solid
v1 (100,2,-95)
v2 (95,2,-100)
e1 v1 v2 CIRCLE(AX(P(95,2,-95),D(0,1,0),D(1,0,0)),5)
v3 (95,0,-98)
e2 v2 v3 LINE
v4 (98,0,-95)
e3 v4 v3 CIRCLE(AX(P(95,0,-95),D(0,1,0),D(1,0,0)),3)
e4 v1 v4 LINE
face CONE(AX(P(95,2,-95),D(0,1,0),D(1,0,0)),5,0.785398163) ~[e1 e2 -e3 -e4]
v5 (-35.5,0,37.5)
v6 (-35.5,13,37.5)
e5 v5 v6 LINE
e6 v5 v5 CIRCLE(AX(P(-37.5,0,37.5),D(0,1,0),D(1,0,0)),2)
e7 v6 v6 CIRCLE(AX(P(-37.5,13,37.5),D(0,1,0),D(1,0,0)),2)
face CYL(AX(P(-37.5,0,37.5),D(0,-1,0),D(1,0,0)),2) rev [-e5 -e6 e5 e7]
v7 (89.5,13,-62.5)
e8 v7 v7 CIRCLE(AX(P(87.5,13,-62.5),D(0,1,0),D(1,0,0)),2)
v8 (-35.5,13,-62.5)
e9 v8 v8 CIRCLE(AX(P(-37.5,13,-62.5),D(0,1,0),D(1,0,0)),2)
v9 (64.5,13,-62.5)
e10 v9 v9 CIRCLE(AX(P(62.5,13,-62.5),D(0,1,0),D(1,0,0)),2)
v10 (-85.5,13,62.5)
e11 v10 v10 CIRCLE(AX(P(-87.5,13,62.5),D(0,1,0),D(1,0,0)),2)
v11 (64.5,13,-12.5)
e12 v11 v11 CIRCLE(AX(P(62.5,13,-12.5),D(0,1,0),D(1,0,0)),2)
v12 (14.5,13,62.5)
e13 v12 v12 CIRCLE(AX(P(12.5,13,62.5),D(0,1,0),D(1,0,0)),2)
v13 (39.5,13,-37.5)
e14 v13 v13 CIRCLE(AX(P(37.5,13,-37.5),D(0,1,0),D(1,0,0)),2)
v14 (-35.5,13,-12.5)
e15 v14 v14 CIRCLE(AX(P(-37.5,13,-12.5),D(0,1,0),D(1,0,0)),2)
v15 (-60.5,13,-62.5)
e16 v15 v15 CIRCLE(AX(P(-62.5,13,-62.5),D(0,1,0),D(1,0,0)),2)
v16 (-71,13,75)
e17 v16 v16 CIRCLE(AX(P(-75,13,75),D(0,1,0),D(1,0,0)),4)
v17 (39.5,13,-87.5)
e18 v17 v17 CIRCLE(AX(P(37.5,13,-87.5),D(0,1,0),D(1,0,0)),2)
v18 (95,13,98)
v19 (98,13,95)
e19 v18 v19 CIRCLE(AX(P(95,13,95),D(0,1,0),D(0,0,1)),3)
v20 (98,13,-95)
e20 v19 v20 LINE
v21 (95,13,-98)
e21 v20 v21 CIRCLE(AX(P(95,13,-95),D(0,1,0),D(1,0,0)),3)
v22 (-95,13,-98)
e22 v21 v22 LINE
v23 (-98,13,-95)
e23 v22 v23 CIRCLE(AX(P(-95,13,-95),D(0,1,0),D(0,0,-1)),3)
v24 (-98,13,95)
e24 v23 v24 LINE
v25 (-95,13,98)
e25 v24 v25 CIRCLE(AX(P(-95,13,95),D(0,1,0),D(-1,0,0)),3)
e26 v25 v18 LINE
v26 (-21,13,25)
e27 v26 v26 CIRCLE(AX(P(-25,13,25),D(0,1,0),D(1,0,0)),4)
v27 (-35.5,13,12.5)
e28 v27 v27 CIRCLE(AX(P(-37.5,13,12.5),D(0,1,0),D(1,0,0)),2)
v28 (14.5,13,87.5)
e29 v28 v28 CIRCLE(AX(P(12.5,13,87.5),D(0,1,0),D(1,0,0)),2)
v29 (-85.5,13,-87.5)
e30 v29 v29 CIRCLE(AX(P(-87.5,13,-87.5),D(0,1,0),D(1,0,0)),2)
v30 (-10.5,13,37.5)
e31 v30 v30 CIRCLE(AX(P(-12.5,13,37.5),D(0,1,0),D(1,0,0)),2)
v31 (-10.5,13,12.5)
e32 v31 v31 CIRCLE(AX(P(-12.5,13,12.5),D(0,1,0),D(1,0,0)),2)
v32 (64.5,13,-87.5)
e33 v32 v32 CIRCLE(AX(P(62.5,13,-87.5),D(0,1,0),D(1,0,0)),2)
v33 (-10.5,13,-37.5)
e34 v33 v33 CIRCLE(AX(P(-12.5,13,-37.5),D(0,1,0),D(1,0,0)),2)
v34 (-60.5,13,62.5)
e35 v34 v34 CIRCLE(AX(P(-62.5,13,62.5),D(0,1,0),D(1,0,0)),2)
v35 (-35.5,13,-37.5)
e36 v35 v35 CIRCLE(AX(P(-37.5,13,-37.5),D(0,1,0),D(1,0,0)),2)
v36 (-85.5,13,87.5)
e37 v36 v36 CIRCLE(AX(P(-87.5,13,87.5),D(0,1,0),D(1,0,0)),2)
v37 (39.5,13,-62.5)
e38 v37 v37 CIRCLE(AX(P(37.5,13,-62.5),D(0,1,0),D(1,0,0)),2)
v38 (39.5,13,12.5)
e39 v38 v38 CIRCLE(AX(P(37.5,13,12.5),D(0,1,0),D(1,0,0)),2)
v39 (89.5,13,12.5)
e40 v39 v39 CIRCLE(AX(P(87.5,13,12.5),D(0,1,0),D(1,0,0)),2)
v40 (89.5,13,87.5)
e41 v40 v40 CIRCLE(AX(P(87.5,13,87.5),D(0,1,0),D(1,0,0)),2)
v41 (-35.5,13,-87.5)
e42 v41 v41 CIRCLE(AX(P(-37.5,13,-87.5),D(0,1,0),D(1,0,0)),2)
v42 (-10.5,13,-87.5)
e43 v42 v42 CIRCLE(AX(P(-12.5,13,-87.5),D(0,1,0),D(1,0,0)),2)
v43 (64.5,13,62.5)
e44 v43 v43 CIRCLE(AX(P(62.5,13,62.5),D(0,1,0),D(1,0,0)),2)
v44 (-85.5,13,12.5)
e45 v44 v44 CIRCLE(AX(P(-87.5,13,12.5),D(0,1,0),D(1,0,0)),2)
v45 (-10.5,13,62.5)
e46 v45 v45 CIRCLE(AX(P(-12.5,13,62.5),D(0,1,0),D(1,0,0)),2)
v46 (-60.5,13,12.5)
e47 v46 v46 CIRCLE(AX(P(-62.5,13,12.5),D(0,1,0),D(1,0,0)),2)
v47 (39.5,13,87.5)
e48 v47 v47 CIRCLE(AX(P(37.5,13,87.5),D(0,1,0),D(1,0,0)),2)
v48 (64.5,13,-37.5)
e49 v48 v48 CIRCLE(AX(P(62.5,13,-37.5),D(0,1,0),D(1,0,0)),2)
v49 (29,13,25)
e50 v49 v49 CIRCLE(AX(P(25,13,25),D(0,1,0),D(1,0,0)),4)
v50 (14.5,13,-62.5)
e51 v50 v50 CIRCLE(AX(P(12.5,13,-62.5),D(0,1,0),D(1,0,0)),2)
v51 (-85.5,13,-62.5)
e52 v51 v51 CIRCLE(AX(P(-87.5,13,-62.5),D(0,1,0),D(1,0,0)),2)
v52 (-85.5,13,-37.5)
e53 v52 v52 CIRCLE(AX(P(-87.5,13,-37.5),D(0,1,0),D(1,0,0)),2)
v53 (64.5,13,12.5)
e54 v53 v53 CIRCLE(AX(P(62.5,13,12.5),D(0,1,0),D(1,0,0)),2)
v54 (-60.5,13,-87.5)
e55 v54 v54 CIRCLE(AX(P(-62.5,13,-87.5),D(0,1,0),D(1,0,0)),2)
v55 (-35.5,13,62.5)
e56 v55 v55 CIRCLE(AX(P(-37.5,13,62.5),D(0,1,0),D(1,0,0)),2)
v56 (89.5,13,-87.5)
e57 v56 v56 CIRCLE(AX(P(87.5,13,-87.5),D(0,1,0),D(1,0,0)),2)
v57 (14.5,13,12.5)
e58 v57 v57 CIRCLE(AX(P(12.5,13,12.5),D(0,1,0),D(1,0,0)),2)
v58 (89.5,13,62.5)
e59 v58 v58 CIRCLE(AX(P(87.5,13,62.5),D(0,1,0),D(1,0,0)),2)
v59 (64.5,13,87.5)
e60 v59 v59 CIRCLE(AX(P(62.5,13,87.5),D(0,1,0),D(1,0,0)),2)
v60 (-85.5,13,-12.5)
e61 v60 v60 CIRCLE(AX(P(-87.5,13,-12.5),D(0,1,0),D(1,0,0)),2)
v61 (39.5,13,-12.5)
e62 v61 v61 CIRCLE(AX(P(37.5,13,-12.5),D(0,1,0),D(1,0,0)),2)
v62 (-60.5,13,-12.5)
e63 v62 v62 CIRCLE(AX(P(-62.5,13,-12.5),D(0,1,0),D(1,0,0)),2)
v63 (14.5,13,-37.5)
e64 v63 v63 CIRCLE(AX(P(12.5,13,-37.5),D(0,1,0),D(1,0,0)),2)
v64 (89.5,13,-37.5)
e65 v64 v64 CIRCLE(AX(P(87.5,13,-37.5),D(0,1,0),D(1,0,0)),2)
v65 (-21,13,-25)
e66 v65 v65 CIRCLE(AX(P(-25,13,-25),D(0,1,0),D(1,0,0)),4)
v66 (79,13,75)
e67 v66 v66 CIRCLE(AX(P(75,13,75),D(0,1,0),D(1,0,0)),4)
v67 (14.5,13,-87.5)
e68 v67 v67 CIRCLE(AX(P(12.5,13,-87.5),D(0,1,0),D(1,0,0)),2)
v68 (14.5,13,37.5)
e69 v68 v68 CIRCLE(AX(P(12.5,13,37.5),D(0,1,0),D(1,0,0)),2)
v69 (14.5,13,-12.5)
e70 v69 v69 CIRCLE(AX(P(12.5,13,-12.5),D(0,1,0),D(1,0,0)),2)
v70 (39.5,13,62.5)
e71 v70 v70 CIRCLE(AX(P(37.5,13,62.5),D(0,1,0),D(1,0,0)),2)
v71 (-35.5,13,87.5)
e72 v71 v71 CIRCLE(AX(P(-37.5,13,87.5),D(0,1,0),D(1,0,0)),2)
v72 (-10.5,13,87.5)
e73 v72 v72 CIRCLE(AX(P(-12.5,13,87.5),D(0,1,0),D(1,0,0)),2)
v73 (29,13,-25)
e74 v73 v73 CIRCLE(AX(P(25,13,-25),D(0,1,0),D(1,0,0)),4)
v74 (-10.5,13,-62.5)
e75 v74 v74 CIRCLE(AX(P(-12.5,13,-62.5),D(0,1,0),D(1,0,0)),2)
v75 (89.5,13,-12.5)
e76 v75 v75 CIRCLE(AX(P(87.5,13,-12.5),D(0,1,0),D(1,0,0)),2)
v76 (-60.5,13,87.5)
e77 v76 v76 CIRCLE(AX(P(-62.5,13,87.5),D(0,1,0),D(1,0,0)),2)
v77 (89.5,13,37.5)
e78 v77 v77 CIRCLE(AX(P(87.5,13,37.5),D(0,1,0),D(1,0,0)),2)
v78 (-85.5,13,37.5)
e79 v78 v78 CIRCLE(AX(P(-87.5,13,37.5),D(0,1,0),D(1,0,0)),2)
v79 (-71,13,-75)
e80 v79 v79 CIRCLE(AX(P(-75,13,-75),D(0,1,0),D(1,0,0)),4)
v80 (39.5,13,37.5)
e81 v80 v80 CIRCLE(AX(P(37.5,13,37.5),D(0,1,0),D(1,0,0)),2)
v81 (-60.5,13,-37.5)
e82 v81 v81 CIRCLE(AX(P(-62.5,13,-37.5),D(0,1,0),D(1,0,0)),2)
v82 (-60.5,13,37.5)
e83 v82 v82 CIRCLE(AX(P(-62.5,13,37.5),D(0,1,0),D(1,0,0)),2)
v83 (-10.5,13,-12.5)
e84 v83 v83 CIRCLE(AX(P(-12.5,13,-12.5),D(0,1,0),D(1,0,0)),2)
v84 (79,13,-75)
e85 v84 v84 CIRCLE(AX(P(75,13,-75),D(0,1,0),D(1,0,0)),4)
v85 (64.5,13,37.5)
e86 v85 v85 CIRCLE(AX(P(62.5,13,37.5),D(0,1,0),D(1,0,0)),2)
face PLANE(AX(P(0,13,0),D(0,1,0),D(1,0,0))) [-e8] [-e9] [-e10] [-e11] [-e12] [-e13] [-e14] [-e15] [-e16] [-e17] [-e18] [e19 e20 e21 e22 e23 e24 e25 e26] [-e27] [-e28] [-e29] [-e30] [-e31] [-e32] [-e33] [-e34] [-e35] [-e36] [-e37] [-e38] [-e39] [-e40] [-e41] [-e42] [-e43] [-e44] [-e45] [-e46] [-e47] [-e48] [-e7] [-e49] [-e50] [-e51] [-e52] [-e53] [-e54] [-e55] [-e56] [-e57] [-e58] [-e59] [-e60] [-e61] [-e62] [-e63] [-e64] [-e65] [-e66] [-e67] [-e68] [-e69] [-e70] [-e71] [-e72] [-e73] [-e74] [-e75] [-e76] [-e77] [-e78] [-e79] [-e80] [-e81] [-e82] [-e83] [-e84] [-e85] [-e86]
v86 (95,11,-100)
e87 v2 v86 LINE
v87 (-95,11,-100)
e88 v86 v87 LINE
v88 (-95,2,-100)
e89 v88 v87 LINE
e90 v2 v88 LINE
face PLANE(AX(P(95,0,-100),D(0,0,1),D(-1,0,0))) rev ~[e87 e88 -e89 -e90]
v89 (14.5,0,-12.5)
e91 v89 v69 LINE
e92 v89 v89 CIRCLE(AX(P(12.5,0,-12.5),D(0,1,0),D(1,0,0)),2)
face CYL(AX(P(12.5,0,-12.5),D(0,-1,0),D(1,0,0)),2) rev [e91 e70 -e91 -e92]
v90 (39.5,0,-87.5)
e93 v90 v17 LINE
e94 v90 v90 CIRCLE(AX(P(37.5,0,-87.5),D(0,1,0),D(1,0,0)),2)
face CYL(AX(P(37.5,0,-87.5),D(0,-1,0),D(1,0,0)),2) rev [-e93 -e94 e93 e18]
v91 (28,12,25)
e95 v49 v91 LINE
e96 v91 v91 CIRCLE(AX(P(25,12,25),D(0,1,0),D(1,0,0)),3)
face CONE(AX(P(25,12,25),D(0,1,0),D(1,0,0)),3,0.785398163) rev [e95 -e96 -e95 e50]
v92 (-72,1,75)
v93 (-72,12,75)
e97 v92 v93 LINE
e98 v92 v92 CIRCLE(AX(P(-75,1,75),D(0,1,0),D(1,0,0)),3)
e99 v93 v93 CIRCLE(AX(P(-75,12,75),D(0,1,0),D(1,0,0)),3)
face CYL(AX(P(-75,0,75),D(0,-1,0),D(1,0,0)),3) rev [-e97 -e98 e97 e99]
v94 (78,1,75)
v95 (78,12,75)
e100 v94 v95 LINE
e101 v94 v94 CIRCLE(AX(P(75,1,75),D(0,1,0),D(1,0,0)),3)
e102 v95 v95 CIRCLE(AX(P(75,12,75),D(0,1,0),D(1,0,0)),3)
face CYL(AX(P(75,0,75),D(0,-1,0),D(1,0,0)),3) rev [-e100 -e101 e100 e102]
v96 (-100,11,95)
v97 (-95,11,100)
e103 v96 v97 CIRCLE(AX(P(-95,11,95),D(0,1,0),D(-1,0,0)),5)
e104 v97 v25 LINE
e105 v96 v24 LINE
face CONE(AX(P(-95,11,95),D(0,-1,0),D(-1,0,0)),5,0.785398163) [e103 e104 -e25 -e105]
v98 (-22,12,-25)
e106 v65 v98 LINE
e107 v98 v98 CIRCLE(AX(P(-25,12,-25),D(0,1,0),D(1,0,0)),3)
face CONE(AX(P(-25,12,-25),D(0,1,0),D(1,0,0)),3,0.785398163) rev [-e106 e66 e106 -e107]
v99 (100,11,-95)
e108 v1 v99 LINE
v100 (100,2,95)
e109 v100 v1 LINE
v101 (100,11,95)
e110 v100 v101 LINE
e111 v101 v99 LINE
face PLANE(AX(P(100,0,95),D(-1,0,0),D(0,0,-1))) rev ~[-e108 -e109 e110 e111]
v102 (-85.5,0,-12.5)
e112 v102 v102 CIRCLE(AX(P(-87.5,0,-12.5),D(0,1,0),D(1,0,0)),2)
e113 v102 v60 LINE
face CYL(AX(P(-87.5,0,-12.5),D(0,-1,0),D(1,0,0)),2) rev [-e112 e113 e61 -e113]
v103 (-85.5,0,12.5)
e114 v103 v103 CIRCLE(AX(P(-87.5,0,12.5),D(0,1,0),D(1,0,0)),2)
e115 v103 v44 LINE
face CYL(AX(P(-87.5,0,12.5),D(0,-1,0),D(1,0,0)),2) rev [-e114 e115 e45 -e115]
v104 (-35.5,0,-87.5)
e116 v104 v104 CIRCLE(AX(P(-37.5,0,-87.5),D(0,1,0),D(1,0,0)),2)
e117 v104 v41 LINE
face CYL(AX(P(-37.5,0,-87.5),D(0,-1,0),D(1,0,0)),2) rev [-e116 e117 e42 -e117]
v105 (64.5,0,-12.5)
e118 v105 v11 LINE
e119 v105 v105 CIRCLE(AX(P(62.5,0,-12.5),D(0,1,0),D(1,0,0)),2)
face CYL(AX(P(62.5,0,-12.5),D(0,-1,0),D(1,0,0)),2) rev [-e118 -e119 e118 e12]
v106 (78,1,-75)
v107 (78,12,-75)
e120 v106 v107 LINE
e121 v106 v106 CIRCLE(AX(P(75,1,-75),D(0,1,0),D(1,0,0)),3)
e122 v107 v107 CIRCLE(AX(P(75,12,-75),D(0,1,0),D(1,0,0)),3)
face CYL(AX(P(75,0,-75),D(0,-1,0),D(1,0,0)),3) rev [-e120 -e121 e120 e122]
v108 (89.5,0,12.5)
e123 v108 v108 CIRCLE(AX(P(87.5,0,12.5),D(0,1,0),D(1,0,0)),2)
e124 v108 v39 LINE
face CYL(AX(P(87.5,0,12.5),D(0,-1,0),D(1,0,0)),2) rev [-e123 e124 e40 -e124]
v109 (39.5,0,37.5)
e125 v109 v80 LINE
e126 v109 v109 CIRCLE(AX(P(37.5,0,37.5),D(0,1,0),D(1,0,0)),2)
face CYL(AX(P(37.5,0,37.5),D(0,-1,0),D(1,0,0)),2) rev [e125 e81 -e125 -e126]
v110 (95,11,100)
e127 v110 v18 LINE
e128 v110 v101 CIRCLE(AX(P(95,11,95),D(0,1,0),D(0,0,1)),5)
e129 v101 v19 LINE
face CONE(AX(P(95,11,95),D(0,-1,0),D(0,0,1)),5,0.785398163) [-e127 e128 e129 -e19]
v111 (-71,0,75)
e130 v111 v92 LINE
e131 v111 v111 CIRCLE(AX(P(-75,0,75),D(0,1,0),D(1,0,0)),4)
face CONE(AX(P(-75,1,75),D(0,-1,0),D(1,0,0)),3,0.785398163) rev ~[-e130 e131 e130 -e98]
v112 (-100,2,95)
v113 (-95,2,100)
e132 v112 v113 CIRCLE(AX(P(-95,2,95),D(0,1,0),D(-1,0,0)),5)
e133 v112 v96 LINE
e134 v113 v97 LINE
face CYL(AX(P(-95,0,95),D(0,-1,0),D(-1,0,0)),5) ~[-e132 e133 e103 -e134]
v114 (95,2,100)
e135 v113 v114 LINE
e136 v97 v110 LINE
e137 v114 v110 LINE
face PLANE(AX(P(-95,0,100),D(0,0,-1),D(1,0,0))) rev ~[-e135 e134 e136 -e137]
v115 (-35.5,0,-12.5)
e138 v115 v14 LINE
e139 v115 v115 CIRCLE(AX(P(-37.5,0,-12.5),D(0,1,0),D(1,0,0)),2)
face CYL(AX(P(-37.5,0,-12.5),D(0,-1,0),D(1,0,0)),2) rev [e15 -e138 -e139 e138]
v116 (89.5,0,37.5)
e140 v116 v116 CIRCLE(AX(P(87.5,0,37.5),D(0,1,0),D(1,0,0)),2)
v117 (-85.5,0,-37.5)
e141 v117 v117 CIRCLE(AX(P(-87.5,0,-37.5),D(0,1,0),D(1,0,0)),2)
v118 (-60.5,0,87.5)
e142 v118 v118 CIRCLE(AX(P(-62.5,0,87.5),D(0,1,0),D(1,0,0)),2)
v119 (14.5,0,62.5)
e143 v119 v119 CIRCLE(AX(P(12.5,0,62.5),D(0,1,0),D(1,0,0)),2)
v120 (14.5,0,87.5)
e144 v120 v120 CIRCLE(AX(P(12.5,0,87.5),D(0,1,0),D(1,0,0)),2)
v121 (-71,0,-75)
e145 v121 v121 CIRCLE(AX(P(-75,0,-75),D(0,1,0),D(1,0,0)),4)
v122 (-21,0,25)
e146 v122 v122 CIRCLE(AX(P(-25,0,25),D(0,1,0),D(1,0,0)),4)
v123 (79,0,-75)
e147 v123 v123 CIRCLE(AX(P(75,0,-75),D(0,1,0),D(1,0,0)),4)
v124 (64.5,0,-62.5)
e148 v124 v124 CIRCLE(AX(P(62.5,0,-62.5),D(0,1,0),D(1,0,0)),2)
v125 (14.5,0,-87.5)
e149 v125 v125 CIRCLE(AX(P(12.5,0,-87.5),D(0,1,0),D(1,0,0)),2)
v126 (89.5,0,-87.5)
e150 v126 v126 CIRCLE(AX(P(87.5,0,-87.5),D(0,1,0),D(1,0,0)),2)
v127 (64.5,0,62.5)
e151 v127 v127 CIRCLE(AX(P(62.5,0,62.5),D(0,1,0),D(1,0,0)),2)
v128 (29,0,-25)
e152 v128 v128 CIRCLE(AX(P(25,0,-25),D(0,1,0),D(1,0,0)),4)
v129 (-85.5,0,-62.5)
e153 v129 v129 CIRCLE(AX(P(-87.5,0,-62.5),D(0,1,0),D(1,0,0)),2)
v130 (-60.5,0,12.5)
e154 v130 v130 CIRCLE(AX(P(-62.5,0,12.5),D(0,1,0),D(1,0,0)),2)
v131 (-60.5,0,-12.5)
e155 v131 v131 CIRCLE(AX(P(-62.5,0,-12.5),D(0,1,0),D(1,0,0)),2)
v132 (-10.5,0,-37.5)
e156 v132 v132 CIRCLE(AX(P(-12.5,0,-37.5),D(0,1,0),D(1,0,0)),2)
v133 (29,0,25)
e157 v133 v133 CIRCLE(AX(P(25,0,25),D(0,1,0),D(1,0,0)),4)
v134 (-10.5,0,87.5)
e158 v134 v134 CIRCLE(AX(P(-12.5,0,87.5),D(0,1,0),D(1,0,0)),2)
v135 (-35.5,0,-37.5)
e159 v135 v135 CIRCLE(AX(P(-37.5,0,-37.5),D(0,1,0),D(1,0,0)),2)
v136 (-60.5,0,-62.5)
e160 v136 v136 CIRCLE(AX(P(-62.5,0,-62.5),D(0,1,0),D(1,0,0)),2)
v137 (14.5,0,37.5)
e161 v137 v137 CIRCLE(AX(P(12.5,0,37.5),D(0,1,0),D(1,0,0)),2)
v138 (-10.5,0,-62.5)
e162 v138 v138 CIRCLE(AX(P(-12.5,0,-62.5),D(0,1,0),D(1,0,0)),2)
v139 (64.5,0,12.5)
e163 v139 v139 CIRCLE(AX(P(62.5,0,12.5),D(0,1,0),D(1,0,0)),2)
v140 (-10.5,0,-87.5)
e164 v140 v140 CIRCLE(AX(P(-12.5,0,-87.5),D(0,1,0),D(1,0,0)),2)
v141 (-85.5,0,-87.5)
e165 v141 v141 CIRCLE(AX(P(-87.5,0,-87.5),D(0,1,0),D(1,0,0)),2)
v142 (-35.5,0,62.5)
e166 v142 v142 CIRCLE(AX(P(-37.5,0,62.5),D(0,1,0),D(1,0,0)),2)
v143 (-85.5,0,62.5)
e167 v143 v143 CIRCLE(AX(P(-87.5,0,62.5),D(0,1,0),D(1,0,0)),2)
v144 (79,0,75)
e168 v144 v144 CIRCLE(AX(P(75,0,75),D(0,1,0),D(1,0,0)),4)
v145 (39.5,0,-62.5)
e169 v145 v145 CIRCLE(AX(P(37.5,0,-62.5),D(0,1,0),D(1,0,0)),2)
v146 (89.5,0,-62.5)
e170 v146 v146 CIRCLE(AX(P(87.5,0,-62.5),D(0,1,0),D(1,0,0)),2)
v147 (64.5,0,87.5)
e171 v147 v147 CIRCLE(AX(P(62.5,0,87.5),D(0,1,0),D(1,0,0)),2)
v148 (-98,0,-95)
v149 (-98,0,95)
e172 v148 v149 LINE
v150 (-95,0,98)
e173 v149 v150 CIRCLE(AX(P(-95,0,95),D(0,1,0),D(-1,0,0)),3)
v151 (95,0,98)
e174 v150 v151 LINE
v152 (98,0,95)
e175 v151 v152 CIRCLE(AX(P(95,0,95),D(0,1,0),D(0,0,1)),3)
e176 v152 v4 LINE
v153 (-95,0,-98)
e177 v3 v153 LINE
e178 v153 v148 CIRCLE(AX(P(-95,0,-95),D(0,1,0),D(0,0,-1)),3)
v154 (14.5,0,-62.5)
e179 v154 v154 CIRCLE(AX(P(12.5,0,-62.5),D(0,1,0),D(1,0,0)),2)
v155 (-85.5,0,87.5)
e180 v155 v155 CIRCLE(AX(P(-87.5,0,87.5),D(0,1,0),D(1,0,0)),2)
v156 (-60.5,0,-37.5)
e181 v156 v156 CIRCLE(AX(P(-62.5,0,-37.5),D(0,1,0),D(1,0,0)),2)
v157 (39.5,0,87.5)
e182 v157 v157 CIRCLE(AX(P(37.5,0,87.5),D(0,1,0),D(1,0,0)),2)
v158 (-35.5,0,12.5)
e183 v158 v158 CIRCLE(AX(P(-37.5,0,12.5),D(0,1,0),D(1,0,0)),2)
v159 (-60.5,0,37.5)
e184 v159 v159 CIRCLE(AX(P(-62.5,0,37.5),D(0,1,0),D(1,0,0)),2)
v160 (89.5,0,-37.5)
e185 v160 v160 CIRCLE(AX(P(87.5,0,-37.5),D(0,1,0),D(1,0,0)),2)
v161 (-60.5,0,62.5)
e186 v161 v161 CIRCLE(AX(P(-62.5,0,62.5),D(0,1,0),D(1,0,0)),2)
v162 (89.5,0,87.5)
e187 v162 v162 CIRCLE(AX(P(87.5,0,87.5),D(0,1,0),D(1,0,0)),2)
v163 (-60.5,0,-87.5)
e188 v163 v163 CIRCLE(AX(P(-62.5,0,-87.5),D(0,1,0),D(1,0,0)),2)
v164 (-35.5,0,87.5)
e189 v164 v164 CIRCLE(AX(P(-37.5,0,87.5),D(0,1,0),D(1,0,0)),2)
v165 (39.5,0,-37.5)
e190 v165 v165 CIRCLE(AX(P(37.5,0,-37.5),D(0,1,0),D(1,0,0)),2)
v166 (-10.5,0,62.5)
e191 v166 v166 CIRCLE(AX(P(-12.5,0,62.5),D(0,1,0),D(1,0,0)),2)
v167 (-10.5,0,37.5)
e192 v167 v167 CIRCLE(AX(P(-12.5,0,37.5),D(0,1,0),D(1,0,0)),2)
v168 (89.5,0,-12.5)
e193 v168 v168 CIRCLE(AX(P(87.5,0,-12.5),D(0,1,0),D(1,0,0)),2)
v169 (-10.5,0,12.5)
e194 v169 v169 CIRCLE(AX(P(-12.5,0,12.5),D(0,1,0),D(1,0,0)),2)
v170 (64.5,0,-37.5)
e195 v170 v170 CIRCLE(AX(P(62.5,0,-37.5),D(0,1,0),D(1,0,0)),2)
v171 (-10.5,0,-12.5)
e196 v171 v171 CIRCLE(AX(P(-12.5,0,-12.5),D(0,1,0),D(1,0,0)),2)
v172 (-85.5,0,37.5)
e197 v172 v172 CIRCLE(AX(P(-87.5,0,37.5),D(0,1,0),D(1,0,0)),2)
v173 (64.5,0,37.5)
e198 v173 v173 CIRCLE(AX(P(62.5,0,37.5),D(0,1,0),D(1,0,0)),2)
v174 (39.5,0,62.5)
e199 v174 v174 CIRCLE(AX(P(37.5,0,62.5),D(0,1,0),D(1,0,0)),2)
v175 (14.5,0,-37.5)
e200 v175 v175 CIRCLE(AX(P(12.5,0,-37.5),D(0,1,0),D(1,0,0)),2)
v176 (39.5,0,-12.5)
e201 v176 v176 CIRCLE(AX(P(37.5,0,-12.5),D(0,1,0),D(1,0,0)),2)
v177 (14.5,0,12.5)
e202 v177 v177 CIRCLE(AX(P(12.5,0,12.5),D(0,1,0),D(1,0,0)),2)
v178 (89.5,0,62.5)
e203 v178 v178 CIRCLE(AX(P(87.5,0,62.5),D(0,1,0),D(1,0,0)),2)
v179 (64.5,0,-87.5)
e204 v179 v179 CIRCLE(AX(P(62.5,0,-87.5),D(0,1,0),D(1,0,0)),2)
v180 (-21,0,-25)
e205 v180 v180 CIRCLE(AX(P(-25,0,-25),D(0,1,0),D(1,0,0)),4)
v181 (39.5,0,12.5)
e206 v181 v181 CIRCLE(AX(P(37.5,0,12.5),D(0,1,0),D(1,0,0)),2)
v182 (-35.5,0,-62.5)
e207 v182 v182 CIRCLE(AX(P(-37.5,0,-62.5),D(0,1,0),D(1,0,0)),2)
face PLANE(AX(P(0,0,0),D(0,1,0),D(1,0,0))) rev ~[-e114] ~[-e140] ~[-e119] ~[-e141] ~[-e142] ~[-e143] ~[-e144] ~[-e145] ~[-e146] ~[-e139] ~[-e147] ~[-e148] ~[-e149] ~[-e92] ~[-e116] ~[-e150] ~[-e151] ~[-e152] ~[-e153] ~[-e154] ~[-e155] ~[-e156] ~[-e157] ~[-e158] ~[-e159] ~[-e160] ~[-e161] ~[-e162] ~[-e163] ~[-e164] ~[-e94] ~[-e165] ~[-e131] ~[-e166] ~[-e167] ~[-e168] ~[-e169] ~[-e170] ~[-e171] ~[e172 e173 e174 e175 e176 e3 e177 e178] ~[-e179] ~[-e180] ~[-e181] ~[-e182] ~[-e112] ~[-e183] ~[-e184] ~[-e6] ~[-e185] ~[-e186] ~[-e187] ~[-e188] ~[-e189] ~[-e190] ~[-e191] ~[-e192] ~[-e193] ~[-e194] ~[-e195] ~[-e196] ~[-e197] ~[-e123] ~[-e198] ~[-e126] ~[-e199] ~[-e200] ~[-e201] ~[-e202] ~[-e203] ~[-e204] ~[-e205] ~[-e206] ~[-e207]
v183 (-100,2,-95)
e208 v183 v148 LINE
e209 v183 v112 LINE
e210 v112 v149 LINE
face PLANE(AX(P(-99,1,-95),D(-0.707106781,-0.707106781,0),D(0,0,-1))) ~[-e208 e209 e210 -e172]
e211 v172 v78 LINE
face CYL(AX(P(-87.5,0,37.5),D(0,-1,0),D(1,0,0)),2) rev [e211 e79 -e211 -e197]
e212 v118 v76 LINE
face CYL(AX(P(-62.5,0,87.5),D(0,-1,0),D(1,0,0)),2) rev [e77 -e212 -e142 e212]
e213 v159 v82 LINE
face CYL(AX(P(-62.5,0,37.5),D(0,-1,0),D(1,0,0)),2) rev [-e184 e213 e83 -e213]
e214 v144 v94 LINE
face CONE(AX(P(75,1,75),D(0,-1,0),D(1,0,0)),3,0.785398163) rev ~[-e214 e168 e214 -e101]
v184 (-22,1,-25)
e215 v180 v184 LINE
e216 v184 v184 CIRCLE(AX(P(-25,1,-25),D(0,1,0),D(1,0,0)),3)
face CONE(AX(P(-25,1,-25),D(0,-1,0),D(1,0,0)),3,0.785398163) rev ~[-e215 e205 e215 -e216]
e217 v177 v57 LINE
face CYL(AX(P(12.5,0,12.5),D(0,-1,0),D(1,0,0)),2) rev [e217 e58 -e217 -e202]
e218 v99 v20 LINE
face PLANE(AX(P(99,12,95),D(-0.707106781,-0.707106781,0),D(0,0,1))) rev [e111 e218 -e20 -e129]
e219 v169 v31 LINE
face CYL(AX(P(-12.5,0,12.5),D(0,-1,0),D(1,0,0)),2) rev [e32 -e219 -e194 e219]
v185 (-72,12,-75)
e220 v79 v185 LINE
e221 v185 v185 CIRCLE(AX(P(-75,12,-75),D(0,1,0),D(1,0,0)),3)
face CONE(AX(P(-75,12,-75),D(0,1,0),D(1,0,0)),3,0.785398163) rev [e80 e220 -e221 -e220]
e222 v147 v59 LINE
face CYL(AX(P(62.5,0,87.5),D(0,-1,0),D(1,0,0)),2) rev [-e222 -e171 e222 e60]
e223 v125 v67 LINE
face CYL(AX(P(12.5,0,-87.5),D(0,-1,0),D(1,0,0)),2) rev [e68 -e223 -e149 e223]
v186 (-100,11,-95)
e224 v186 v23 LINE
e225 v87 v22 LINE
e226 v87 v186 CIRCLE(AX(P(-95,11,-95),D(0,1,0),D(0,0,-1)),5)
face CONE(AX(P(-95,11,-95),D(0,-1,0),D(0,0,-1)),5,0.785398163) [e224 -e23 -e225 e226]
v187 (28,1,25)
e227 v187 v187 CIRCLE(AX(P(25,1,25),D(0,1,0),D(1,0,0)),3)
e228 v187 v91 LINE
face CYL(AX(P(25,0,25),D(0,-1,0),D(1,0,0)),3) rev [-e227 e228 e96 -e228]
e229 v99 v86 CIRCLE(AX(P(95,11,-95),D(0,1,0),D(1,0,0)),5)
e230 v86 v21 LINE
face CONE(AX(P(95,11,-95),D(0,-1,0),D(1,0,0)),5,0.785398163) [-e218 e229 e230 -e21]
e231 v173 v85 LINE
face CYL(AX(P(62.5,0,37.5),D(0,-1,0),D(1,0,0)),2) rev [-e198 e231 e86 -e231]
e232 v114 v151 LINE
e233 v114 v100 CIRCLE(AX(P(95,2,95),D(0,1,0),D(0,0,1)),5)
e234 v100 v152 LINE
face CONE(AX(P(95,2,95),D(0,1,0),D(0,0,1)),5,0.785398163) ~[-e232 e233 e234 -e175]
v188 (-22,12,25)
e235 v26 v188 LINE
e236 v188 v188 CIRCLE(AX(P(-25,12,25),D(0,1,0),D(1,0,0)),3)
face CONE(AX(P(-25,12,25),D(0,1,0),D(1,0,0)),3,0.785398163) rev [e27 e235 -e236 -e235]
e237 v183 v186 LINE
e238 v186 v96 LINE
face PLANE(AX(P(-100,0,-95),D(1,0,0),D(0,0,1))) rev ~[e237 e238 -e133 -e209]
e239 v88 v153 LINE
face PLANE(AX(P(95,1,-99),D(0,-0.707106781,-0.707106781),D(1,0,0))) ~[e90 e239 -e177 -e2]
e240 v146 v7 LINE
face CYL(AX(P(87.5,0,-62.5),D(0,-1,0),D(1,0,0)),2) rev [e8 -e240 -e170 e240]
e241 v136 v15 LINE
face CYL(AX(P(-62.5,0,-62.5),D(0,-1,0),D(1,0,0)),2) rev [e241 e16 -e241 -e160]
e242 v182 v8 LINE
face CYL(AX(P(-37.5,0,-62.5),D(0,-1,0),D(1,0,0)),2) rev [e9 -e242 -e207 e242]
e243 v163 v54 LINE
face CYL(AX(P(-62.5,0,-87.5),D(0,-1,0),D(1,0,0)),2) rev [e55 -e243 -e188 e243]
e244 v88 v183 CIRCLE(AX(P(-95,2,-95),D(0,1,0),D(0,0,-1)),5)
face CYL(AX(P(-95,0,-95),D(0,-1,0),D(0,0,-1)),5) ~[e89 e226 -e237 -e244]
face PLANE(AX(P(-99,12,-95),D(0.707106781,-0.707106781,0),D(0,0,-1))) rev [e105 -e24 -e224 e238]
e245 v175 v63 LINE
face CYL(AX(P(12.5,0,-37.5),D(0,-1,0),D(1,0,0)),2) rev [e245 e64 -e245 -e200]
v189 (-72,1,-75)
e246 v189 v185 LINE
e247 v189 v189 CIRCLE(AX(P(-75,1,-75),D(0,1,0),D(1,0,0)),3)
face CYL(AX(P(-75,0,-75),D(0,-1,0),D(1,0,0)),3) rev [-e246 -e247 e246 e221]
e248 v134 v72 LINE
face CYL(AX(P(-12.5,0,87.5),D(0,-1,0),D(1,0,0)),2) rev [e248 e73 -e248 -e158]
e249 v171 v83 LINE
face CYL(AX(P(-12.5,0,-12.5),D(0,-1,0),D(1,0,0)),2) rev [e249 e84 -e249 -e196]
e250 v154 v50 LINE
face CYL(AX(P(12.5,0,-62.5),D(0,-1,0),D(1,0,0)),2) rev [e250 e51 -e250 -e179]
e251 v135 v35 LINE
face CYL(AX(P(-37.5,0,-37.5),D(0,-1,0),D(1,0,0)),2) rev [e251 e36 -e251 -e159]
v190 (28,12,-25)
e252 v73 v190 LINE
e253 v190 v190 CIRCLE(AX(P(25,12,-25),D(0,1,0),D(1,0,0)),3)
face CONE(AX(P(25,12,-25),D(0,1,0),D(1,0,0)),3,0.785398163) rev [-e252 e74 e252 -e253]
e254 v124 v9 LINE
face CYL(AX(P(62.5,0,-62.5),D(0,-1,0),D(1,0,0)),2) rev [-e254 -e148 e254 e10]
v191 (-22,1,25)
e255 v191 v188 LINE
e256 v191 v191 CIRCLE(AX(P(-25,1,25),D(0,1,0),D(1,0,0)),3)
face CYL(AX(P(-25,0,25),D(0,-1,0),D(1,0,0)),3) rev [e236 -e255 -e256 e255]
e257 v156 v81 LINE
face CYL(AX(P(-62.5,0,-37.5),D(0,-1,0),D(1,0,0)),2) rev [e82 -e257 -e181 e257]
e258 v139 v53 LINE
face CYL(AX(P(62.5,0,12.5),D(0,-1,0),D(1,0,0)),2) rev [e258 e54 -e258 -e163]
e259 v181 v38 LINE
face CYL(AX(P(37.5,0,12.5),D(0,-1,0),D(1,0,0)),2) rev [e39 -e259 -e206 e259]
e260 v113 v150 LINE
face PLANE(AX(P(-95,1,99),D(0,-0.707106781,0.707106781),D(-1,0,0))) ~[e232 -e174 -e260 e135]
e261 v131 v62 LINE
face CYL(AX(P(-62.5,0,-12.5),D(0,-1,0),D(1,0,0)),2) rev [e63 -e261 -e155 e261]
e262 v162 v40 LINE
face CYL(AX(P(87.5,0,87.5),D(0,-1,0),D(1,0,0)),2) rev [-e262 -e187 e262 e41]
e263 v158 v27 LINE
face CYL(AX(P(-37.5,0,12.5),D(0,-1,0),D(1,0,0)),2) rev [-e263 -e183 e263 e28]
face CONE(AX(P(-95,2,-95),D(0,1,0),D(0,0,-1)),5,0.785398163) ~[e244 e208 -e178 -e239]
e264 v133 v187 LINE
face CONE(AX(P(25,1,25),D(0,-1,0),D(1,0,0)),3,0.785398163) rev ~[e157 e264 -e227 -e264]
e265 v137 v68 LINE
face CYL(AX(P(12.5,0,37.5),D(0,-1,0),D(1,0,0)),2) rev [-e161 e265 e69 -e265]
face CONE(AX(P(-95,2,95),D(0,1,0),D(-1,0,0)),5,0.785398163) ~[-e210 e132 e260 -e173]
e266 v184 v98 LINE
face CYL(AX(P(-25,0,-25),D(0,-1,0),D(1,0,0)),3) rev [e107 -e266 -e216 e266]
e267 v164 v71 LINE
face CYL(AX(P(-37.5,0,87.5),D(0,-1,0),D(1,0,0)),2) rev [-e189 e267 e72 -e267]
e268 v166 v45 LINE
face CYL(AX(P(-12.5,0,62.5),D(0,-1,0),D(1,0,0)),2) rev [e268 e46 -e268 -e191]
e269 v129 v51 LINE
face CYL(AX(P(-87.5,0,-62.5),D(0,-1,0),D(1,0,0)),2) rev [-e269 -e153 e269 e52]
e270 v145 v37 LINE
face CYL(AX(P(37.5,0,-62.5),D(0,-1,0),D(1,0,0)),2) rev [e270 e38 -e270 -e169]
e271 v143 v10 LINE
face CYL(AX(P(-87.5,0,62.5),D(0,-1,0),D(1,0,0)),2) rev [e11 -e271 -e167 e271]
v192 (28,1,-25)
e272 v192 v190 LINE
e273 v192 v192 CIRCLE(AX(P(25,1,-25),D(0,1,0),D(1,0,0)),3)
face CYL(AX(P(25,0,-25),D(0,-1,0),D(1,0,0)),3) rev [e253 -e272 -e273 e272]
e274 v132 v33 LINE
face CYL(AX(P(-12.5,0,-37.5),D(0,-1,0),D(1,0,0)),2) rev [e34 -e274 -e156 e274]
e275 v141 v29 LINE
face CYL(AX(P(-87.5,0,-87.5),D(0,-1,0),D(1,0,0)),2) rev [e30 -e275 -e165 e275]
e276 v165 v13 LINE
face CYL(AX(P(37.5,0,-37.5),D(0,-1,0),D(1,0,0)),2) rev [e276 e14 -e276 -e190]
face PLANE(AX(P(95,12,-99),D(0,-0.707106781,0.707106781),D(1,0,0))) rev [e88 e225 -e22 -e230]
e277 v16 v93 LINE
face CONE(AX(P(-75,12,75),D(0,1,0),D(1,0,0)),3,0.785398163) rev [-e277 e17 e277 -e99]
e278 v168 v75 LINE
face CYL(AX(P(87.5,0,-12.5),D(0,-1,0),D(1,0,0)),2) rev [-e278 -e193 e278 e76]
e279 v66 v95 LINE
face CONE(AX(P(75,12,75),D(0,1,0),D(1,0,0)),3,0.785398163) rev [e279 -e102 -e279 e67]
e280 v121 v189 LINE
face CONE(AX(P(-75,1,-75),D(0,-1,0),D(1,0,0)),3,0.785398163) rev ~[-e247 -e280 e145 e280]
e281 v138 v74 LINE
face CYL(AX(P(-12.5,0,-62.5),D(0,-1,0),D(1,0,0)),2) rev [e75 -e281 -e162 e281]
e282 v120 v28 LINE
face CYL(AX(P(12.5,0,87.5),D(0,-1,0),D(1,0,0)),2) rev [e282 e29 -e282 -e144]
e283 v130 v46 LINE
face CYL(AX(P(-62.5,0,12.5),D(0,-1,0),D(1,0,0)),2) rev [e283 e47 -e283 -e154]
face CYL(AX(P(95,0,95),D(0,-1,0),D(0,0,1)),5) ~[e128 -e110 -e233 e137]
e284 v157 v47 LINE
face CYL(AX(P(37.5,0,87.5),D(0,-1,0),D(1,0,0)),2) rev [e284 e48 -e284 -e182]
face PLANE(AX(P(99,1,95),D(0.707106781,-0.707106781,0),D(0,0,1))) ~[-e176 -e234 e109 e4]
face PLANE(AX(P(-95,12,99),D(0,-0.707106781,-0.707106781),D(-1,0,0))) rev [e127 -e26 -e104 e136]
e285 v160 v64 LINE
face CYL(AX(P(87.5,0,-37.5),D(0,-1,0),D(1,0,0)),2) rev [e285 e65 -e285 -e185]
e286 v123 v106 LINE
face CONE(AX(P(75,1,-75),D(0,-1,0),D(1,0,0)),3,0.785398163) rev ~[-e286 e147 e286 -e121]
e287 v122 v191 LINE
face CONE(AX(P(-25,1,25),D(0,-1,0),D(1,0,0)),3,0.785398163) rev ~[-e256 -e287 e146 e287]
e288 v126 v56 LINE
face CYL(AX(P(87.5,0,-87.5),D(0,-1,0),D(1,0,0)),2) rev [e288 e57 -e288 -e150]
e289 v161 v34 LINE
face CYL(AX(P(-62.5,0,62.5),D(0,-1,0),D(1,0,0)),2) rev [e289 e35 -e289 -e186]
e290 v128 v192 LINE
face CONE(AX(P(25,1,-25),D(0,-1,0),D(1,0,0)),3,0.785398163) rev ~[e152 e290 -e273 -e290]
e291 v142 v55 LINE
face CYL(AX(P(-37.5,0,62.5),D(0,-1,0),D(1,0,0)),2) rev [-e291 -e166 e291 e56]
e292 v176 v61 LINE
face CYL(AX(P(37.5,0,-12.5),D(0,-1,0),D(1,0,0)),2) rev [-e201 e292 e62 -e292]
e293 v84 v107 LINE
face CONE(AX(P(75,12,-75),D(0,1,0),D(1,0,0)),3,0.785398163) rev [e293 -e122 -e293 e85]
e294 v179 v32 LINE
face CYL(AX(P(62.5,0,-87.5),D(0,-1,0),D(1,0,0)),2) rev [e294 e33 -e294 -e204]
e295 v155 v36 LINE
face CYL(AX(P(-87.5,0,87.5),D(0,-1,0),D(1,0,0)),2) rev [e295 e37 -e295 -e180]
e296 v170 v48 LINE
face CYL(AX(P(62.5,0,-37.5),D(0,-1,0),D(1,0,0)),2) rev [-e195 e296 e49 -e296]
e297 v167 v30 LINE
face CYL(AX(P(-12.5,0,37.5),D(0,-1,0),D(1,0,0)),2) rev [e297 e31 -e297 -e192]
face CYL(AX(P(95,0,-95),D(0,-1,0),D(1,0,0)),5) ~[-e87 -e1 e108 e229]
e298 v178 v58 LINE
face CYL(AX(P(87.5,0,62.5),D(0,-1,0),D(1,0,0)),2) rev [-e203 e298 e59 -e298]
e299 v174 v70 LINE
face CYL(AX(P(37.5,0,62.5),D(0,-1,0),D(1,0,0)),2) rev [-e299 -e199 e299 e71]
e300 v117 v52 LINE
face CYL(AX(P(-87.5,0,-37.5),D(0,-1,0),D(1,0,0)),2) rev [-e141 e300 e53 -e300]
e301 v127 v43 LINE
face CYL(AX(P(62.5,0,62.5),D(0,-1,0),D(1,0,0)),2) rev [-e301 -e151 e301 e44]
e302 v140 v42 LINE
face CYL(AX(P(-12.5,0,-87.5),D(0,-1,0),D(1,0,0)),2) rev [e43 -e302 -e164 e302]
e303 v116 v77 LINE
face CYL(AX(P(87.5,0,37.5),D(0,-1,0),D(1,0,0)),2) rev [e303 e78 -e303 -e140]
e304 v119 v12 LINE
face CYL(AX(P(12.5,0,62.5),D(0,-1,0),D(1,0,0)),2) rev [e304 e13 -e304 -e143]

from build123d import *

# Parameters (mm, degrees)
SKETCH_1_R      = 3
SKETCH_1_R_2    = 2
EXTRUDE_1_DEPTH = 13
CHAMFER_1_SIZE  = 2
CHAMFER_2_SIZE  = 1


with BuildPart() as part:
    # 草图1 → 凸台-拉伸1 (new body)
    with BuildSketch(Plane(origin=(0, 0, 0), x_dir=(1, 0, 0), z_dir=(0, 1, 0))):
        with BuildLine():
            Line((95, 100), (-95, 100))
            ThreePointArc((-95, 100), (-98.535533906, 98.535533906), (-100, 95))
            Line((-100, 95), (-100, -95))
            ThreePointArc((-100, -95), (-98.535533906, -98.535533906), (-95, -100))
            Line((-95, -100), (95, -100))
            ThreePointArc((95, -100), (98.535533906, -98.535533906), (100, -95))
            Line((100, -95), (100, 95))
            ThreePointArc((100, 95), (98.535533906, 98.535533906), (95, 100))
        make_face()
        with Locations((-25, 25)):
            Circle(SKETCH_1_R, mode=Mode.SUBTRACT)
        with Locations((25, 25)):
            Circle(SKETCH_1_R, mode=Mode.SUBTRACT)
        with Locations((-25, -25)):
            Circle(SKETCH_1_R, mode=Mode.SUBTRACT)
        with Locations((25, -25)):
            Circle(SKETCH_1_R, mode=Mode.SUBTRACT)
        with Locations((-37.5, 37.5)):
            Circle(SKETCH_1_R_2, mode=Mode.SUBTRACT)
        with Locations((-12.5, 37.5)):
            Circle(SKETCH_1_R_2, mode=Mode.SUBTRACT)
        with Locations((-12.5, 12.5)):
            Circle(SKETCH_1_R_2, mode=Mode.SUBTRACT)
        with Locations((-37.5, 12.5)):
            Circle(SKETCH_1_R_2, mode=Mode.SUBTRACT)
        with Locations((37.5, 37.5)):
            Circle(SKETCH_1_R_2, mode=Mode.SUBTRACT)
        with Locations((37.5, 12.5)):
            Circle(SKETCH_1_R_2, mode=Mode.SUBTRACT)
        with Locations((12.5, 12.5)):
            Circle(SKETCH_1_R_2, mode=Mode.SUBTRACT)
        with Locations((12.5, 37.5)):
            Circle(SKETCH_1_R_2, mode=Mode.SUBTRACT)
        with Locations((87.5, 37.5)):
            Circle(SKETCH_1_R_2, mode=Mode.SUBTRACT)
        with Locations((87.5, 12.5)):
            Circle(SKETCH_1_R_2, mode=Mode.SUBTRACT)
        with Locations((62.5, 12.5)):
            Circle(SKETCH_1_R_2, mode=Mode.SUBTRACT)
        with Locations((62.5, 37.5)):
            Circle(SKETCH_1_R_2, mode=Mode.SUBTRACT)
        with Locations((-87.5, 37.5)):
            Circle(SKETCH_1_R_2, mode=Mode.SUBTRACT)
        with Locations((-62.5, 37.5)):
            Circle(SKETCH_1_R_2, mode=Mode.SUBTRACT)
        with Locations((-62.5, 12.5)):
            Circle(SKETCH_1_R_2, mode=Mode.SUBTRACT)
        with Locations((-87.5, 12.5)):
            Circle(SKETCH_1_R_2, mode=Mode.SUBTRACT)
        with Locations((-37.5, 87.5)):
            Circle(SKETCH_1_R_2, mode=Mode.SUBTRACT)
        with Locations((-12.5, 87.5)):
            Circle(SKETCH_1_R_2, mode=Mode.SUBTRACT)
        with Locations((-12.5, 62.5)):
            Circle(SKETCH_1_R_2, mode=Mode.SUBTRACT)
        with Locations((-37.5, 62.5)):
            Circle(SKETCH_1_R_2, mode=Mode.SUBTRACT)
        with Locations((37.5, 87.5)):
            Circle(SKETCH_1_R_2, mode=Mode.SUBTRACT)
        with Locations((37.5, 62.5)):
            Circle(SKETCH_1_R_2, mode=Mode.SUBTRACT)
        with Locations((12.5, 62.5)):
            Circle(SKETCH_1_R_2, mode=Mode.SUBTRACT)
        with Locations((12.5, 87.5)):
            Circle(SKETCH_1_R_2, mode=Mode.SUBTRACT)
        with Locations((87.5, 87.5)):
            Circle(SKETCH_1_R_2, mode=Mode.SUBTRACT)
        with Locations((87.5, 62.5)):
            Circle(SKETCH_1_R_2, mode=Mode.SUBTRACT)
        with Locations((62.5, 62.5)):
            Circle(SKETCH_1_R_2, mode=Mode.SUBTRACT)
        with Locations((62.5, 87.5)):
            Circle(SKETCH_1_R_2, mode=Mode.SUBTRACT)
        with Locations((-87.5, 87.5)):
            Circle(SKETCH_1_R_2, mode=Mode.SUBTRACT)
        with Locations((-62.5, 87.5)):
            Circle(SKETCH_1_R_2, mode=Mode.SUBTRACT)
        with Locations((-62.5, 62.5)):
            Circle(SKETCH_1_R_2, mode=Mode.SUBTRACT)
        with Locations((-87.5, 62.5)):
            Circle(SKETCH_1_R_2, mode=Mode.SUBTRACT)
        with Locations((-37.5, -12.5)):
            Circle(SKETCH_1_R_2, mode=Mode.SUBTRACT)
        with Locations((-12.5, -12.5)):
            Circle(SKETCH_1_R_2, mode=Mode.SUBTRACT)
        with Locations((-12.5, -37.5)):
            Circle(SKETCH_1_R_2, mode=Mode.SUBTRACT)
        with Locations((-37.5, -37.5)):
            Circle(SKETCH_1_R_2, mode=Mode.SUBTRACT)
        with Locations((37.5, -12.5)):
            Circle(SKETCH_1_R_2, mode=Mode.SUBTRACT)
        with Locations((37.5, -37.5)):
            Circle(SKETCH_1_R_2, mode=Mode.SUBTRACT)
        with Locations((12.5, -37.5)):
            Circle(SKETCH_1_R_2, mode=Mode.SUBTRACT)
        with Locations((12.5, -12.5)):
            Circle(SKETCH_1_R_2, mode=Mode.SUBTRACT)
        with Locations((87.5, -12.5)):
            Circle(SKETCH_1_R_2, mode=Mode.SUBTRACT)
        with Locations((87.5, -37.5)):
            Circle(SKETCH_1_R_2, mode=Mode.SUBTRACT)
        with Locations((62.5, -37.5)):
            Circle(SKETCH_1_R_2, mode=Mode.SUBTRACT)
        with Locations((62.5, -12.5)):
            Circle(SKETCH_1_R_2, mode=Mode.SUBTRACT)
        with Locations((-87.5, -12.5)):
            Circle(SKETCH_1_R_2, mode=Mode.SUBTRACT)
        with Locations((-62.5, -12.5)):
            Circle(SKETCH_1_R_2, mode=Mode.SUBTRACT)
        with Locations((-62.5, -37.5)):
            Circle(SKETCH_1_R_2, mode=Mode.SUBTRACT)
        with Locations((-87.5, -37.5)):
            Circle(SKETCH_1_R_2, mode=Mode.SUBTRACT)
        with Locations((-37.5, -62.5)):
            Circle(SKETCH_1_R_2, mode=Mode.SUBTRACT)
        with Locations((-12.5, -62.5)):
            Circle(SKETCH_1_R_2, mode=Mode.SUBTRACT)
        with Locations((-12.5, -87.5)):
            Circle(SKETCH_1_R_2, mode=Mode.SUBTRACT)
        with Locations((-37.5, -87.5)):
            Circle(SKETCH_1_R_2, mode=Mode.SUBTRACT)
        with Locations((37.5, -62.5)):
            Circle(SKETCH_1_R_2, mode=Mode.SUBTRACT)
        with Locations((37.5, -87.5)):
            Circle(SKETCH_1_R_2, mode=Mode.SUBTRACT)
        with Locations((12.5, -87.5)):
            Circle(SKETCH_1_R_2, mode=Mode.SUBTRACT)
        with Locations((12.5, -62.5)):
            Circle(SKETCH_1_R_2, mode=Mode.SUBTRACT)
        with Locations((87.5, -62.5)):
            Circle(SKETCH_1_R_2, mode=Mode.SUBTRACT)
        with Locations((87.5, -87.5)):
            Circle(SKETCH_1_R_2, mode=Mode.SUBTRACT)
        with Locations((62.5, -87.5)):
            Circle(SKETCH_1_R_2, mode=Mode.SUBTRACT)
        with Locations((62.5, -62.5)):
            Circle(SKETCH_1_R_2, mode=Mode.SUBTRACT)
        with Locations((-87.5, -62.5)):
            Circle(SKETCH_1_R_2, mode=Mode.SUBTRACT)
        with Locations((-62.5, -62.5)):
            Circle(SKETCH_1_R_2, mode=Mode.SUBTRACT)
        with Locations((-62.5, -87.5)):
            Circle(SKETCH_1_R_2, mode=Mode.SUBTRACT)
        with Locations((-87.5, -87.5)):
            Circle(SKETCH_1_R_2, mode=Mode.SUBTRACT)
        with Locations((-75, 75)):
            Circle(SKETCH_1_R, mode=Mode.SUBTRACT)
        with Locations((-75, -75)):
            Circle(SKETCH_1_R, mode=Mode.SUBTRACT)
        with Locations((75, 75)):
            Circle(SKETCH_1_R, mode=Mode.SUBTRACT)
        with Locations((75, -75)):
            Circle(SKETCH_1_R, mode=Mode.SUBTRACT)
    extrude(amount=EXTRUDE_1_DEPTH)

    # 倒角1
    chamfer_1_edges = [part.edges().sort_by_distance(p)[0] for p in [
        (0, 0, -100),
        (98.535533906, 0, -98.535533906),
        (100, 0, 0),
        (98.535533906, 0, 98.535533906),
        (98.535533906, 13, -98.535533906),
        (0, 13, -100),
        (-98.535533906, 13, -98.535533906),
        (-100, 13, 0),
        (-98.535533906, 13, 98.535533906),
        (0, 13, 100),
        (98.535533906, 13, 98.535533906),
        (0, 0, 100),
        (100, 13, 0),
        (-98.535533906, 0, 98.535533906),
        (-100, 0, 0),
        (-98.535533906, 0, -98.535533906),
    ]]
    chamfer(chamfer_1_edges, length=CHAMFER_1_SIZE)

    # 倒角2
    chamfer_2_edges = [part.edges().sort_by_distance(p)[0] for p in [
        (-28, 0, -25),
        (-28, 13, -25),
        (22, 0, -25),
        (22, 13, -25),
        (-78, 0, -75),
        (-78, 13, -75),
        (-78, 0, 75),
        (-78, 13, 75),
        (72, 0, -75),
        (72, 13, -75),
        (72, 0, 75),
        (72, 13, 75),
        (-28, 0, 25),
        (-28, 13, 25),
        (22, 0, 25),
        (22, 13, 25),
    ]]
    chamfer(chamfer_2_edges, length=CHAMFER_2_SIZE)


solid = part.part
